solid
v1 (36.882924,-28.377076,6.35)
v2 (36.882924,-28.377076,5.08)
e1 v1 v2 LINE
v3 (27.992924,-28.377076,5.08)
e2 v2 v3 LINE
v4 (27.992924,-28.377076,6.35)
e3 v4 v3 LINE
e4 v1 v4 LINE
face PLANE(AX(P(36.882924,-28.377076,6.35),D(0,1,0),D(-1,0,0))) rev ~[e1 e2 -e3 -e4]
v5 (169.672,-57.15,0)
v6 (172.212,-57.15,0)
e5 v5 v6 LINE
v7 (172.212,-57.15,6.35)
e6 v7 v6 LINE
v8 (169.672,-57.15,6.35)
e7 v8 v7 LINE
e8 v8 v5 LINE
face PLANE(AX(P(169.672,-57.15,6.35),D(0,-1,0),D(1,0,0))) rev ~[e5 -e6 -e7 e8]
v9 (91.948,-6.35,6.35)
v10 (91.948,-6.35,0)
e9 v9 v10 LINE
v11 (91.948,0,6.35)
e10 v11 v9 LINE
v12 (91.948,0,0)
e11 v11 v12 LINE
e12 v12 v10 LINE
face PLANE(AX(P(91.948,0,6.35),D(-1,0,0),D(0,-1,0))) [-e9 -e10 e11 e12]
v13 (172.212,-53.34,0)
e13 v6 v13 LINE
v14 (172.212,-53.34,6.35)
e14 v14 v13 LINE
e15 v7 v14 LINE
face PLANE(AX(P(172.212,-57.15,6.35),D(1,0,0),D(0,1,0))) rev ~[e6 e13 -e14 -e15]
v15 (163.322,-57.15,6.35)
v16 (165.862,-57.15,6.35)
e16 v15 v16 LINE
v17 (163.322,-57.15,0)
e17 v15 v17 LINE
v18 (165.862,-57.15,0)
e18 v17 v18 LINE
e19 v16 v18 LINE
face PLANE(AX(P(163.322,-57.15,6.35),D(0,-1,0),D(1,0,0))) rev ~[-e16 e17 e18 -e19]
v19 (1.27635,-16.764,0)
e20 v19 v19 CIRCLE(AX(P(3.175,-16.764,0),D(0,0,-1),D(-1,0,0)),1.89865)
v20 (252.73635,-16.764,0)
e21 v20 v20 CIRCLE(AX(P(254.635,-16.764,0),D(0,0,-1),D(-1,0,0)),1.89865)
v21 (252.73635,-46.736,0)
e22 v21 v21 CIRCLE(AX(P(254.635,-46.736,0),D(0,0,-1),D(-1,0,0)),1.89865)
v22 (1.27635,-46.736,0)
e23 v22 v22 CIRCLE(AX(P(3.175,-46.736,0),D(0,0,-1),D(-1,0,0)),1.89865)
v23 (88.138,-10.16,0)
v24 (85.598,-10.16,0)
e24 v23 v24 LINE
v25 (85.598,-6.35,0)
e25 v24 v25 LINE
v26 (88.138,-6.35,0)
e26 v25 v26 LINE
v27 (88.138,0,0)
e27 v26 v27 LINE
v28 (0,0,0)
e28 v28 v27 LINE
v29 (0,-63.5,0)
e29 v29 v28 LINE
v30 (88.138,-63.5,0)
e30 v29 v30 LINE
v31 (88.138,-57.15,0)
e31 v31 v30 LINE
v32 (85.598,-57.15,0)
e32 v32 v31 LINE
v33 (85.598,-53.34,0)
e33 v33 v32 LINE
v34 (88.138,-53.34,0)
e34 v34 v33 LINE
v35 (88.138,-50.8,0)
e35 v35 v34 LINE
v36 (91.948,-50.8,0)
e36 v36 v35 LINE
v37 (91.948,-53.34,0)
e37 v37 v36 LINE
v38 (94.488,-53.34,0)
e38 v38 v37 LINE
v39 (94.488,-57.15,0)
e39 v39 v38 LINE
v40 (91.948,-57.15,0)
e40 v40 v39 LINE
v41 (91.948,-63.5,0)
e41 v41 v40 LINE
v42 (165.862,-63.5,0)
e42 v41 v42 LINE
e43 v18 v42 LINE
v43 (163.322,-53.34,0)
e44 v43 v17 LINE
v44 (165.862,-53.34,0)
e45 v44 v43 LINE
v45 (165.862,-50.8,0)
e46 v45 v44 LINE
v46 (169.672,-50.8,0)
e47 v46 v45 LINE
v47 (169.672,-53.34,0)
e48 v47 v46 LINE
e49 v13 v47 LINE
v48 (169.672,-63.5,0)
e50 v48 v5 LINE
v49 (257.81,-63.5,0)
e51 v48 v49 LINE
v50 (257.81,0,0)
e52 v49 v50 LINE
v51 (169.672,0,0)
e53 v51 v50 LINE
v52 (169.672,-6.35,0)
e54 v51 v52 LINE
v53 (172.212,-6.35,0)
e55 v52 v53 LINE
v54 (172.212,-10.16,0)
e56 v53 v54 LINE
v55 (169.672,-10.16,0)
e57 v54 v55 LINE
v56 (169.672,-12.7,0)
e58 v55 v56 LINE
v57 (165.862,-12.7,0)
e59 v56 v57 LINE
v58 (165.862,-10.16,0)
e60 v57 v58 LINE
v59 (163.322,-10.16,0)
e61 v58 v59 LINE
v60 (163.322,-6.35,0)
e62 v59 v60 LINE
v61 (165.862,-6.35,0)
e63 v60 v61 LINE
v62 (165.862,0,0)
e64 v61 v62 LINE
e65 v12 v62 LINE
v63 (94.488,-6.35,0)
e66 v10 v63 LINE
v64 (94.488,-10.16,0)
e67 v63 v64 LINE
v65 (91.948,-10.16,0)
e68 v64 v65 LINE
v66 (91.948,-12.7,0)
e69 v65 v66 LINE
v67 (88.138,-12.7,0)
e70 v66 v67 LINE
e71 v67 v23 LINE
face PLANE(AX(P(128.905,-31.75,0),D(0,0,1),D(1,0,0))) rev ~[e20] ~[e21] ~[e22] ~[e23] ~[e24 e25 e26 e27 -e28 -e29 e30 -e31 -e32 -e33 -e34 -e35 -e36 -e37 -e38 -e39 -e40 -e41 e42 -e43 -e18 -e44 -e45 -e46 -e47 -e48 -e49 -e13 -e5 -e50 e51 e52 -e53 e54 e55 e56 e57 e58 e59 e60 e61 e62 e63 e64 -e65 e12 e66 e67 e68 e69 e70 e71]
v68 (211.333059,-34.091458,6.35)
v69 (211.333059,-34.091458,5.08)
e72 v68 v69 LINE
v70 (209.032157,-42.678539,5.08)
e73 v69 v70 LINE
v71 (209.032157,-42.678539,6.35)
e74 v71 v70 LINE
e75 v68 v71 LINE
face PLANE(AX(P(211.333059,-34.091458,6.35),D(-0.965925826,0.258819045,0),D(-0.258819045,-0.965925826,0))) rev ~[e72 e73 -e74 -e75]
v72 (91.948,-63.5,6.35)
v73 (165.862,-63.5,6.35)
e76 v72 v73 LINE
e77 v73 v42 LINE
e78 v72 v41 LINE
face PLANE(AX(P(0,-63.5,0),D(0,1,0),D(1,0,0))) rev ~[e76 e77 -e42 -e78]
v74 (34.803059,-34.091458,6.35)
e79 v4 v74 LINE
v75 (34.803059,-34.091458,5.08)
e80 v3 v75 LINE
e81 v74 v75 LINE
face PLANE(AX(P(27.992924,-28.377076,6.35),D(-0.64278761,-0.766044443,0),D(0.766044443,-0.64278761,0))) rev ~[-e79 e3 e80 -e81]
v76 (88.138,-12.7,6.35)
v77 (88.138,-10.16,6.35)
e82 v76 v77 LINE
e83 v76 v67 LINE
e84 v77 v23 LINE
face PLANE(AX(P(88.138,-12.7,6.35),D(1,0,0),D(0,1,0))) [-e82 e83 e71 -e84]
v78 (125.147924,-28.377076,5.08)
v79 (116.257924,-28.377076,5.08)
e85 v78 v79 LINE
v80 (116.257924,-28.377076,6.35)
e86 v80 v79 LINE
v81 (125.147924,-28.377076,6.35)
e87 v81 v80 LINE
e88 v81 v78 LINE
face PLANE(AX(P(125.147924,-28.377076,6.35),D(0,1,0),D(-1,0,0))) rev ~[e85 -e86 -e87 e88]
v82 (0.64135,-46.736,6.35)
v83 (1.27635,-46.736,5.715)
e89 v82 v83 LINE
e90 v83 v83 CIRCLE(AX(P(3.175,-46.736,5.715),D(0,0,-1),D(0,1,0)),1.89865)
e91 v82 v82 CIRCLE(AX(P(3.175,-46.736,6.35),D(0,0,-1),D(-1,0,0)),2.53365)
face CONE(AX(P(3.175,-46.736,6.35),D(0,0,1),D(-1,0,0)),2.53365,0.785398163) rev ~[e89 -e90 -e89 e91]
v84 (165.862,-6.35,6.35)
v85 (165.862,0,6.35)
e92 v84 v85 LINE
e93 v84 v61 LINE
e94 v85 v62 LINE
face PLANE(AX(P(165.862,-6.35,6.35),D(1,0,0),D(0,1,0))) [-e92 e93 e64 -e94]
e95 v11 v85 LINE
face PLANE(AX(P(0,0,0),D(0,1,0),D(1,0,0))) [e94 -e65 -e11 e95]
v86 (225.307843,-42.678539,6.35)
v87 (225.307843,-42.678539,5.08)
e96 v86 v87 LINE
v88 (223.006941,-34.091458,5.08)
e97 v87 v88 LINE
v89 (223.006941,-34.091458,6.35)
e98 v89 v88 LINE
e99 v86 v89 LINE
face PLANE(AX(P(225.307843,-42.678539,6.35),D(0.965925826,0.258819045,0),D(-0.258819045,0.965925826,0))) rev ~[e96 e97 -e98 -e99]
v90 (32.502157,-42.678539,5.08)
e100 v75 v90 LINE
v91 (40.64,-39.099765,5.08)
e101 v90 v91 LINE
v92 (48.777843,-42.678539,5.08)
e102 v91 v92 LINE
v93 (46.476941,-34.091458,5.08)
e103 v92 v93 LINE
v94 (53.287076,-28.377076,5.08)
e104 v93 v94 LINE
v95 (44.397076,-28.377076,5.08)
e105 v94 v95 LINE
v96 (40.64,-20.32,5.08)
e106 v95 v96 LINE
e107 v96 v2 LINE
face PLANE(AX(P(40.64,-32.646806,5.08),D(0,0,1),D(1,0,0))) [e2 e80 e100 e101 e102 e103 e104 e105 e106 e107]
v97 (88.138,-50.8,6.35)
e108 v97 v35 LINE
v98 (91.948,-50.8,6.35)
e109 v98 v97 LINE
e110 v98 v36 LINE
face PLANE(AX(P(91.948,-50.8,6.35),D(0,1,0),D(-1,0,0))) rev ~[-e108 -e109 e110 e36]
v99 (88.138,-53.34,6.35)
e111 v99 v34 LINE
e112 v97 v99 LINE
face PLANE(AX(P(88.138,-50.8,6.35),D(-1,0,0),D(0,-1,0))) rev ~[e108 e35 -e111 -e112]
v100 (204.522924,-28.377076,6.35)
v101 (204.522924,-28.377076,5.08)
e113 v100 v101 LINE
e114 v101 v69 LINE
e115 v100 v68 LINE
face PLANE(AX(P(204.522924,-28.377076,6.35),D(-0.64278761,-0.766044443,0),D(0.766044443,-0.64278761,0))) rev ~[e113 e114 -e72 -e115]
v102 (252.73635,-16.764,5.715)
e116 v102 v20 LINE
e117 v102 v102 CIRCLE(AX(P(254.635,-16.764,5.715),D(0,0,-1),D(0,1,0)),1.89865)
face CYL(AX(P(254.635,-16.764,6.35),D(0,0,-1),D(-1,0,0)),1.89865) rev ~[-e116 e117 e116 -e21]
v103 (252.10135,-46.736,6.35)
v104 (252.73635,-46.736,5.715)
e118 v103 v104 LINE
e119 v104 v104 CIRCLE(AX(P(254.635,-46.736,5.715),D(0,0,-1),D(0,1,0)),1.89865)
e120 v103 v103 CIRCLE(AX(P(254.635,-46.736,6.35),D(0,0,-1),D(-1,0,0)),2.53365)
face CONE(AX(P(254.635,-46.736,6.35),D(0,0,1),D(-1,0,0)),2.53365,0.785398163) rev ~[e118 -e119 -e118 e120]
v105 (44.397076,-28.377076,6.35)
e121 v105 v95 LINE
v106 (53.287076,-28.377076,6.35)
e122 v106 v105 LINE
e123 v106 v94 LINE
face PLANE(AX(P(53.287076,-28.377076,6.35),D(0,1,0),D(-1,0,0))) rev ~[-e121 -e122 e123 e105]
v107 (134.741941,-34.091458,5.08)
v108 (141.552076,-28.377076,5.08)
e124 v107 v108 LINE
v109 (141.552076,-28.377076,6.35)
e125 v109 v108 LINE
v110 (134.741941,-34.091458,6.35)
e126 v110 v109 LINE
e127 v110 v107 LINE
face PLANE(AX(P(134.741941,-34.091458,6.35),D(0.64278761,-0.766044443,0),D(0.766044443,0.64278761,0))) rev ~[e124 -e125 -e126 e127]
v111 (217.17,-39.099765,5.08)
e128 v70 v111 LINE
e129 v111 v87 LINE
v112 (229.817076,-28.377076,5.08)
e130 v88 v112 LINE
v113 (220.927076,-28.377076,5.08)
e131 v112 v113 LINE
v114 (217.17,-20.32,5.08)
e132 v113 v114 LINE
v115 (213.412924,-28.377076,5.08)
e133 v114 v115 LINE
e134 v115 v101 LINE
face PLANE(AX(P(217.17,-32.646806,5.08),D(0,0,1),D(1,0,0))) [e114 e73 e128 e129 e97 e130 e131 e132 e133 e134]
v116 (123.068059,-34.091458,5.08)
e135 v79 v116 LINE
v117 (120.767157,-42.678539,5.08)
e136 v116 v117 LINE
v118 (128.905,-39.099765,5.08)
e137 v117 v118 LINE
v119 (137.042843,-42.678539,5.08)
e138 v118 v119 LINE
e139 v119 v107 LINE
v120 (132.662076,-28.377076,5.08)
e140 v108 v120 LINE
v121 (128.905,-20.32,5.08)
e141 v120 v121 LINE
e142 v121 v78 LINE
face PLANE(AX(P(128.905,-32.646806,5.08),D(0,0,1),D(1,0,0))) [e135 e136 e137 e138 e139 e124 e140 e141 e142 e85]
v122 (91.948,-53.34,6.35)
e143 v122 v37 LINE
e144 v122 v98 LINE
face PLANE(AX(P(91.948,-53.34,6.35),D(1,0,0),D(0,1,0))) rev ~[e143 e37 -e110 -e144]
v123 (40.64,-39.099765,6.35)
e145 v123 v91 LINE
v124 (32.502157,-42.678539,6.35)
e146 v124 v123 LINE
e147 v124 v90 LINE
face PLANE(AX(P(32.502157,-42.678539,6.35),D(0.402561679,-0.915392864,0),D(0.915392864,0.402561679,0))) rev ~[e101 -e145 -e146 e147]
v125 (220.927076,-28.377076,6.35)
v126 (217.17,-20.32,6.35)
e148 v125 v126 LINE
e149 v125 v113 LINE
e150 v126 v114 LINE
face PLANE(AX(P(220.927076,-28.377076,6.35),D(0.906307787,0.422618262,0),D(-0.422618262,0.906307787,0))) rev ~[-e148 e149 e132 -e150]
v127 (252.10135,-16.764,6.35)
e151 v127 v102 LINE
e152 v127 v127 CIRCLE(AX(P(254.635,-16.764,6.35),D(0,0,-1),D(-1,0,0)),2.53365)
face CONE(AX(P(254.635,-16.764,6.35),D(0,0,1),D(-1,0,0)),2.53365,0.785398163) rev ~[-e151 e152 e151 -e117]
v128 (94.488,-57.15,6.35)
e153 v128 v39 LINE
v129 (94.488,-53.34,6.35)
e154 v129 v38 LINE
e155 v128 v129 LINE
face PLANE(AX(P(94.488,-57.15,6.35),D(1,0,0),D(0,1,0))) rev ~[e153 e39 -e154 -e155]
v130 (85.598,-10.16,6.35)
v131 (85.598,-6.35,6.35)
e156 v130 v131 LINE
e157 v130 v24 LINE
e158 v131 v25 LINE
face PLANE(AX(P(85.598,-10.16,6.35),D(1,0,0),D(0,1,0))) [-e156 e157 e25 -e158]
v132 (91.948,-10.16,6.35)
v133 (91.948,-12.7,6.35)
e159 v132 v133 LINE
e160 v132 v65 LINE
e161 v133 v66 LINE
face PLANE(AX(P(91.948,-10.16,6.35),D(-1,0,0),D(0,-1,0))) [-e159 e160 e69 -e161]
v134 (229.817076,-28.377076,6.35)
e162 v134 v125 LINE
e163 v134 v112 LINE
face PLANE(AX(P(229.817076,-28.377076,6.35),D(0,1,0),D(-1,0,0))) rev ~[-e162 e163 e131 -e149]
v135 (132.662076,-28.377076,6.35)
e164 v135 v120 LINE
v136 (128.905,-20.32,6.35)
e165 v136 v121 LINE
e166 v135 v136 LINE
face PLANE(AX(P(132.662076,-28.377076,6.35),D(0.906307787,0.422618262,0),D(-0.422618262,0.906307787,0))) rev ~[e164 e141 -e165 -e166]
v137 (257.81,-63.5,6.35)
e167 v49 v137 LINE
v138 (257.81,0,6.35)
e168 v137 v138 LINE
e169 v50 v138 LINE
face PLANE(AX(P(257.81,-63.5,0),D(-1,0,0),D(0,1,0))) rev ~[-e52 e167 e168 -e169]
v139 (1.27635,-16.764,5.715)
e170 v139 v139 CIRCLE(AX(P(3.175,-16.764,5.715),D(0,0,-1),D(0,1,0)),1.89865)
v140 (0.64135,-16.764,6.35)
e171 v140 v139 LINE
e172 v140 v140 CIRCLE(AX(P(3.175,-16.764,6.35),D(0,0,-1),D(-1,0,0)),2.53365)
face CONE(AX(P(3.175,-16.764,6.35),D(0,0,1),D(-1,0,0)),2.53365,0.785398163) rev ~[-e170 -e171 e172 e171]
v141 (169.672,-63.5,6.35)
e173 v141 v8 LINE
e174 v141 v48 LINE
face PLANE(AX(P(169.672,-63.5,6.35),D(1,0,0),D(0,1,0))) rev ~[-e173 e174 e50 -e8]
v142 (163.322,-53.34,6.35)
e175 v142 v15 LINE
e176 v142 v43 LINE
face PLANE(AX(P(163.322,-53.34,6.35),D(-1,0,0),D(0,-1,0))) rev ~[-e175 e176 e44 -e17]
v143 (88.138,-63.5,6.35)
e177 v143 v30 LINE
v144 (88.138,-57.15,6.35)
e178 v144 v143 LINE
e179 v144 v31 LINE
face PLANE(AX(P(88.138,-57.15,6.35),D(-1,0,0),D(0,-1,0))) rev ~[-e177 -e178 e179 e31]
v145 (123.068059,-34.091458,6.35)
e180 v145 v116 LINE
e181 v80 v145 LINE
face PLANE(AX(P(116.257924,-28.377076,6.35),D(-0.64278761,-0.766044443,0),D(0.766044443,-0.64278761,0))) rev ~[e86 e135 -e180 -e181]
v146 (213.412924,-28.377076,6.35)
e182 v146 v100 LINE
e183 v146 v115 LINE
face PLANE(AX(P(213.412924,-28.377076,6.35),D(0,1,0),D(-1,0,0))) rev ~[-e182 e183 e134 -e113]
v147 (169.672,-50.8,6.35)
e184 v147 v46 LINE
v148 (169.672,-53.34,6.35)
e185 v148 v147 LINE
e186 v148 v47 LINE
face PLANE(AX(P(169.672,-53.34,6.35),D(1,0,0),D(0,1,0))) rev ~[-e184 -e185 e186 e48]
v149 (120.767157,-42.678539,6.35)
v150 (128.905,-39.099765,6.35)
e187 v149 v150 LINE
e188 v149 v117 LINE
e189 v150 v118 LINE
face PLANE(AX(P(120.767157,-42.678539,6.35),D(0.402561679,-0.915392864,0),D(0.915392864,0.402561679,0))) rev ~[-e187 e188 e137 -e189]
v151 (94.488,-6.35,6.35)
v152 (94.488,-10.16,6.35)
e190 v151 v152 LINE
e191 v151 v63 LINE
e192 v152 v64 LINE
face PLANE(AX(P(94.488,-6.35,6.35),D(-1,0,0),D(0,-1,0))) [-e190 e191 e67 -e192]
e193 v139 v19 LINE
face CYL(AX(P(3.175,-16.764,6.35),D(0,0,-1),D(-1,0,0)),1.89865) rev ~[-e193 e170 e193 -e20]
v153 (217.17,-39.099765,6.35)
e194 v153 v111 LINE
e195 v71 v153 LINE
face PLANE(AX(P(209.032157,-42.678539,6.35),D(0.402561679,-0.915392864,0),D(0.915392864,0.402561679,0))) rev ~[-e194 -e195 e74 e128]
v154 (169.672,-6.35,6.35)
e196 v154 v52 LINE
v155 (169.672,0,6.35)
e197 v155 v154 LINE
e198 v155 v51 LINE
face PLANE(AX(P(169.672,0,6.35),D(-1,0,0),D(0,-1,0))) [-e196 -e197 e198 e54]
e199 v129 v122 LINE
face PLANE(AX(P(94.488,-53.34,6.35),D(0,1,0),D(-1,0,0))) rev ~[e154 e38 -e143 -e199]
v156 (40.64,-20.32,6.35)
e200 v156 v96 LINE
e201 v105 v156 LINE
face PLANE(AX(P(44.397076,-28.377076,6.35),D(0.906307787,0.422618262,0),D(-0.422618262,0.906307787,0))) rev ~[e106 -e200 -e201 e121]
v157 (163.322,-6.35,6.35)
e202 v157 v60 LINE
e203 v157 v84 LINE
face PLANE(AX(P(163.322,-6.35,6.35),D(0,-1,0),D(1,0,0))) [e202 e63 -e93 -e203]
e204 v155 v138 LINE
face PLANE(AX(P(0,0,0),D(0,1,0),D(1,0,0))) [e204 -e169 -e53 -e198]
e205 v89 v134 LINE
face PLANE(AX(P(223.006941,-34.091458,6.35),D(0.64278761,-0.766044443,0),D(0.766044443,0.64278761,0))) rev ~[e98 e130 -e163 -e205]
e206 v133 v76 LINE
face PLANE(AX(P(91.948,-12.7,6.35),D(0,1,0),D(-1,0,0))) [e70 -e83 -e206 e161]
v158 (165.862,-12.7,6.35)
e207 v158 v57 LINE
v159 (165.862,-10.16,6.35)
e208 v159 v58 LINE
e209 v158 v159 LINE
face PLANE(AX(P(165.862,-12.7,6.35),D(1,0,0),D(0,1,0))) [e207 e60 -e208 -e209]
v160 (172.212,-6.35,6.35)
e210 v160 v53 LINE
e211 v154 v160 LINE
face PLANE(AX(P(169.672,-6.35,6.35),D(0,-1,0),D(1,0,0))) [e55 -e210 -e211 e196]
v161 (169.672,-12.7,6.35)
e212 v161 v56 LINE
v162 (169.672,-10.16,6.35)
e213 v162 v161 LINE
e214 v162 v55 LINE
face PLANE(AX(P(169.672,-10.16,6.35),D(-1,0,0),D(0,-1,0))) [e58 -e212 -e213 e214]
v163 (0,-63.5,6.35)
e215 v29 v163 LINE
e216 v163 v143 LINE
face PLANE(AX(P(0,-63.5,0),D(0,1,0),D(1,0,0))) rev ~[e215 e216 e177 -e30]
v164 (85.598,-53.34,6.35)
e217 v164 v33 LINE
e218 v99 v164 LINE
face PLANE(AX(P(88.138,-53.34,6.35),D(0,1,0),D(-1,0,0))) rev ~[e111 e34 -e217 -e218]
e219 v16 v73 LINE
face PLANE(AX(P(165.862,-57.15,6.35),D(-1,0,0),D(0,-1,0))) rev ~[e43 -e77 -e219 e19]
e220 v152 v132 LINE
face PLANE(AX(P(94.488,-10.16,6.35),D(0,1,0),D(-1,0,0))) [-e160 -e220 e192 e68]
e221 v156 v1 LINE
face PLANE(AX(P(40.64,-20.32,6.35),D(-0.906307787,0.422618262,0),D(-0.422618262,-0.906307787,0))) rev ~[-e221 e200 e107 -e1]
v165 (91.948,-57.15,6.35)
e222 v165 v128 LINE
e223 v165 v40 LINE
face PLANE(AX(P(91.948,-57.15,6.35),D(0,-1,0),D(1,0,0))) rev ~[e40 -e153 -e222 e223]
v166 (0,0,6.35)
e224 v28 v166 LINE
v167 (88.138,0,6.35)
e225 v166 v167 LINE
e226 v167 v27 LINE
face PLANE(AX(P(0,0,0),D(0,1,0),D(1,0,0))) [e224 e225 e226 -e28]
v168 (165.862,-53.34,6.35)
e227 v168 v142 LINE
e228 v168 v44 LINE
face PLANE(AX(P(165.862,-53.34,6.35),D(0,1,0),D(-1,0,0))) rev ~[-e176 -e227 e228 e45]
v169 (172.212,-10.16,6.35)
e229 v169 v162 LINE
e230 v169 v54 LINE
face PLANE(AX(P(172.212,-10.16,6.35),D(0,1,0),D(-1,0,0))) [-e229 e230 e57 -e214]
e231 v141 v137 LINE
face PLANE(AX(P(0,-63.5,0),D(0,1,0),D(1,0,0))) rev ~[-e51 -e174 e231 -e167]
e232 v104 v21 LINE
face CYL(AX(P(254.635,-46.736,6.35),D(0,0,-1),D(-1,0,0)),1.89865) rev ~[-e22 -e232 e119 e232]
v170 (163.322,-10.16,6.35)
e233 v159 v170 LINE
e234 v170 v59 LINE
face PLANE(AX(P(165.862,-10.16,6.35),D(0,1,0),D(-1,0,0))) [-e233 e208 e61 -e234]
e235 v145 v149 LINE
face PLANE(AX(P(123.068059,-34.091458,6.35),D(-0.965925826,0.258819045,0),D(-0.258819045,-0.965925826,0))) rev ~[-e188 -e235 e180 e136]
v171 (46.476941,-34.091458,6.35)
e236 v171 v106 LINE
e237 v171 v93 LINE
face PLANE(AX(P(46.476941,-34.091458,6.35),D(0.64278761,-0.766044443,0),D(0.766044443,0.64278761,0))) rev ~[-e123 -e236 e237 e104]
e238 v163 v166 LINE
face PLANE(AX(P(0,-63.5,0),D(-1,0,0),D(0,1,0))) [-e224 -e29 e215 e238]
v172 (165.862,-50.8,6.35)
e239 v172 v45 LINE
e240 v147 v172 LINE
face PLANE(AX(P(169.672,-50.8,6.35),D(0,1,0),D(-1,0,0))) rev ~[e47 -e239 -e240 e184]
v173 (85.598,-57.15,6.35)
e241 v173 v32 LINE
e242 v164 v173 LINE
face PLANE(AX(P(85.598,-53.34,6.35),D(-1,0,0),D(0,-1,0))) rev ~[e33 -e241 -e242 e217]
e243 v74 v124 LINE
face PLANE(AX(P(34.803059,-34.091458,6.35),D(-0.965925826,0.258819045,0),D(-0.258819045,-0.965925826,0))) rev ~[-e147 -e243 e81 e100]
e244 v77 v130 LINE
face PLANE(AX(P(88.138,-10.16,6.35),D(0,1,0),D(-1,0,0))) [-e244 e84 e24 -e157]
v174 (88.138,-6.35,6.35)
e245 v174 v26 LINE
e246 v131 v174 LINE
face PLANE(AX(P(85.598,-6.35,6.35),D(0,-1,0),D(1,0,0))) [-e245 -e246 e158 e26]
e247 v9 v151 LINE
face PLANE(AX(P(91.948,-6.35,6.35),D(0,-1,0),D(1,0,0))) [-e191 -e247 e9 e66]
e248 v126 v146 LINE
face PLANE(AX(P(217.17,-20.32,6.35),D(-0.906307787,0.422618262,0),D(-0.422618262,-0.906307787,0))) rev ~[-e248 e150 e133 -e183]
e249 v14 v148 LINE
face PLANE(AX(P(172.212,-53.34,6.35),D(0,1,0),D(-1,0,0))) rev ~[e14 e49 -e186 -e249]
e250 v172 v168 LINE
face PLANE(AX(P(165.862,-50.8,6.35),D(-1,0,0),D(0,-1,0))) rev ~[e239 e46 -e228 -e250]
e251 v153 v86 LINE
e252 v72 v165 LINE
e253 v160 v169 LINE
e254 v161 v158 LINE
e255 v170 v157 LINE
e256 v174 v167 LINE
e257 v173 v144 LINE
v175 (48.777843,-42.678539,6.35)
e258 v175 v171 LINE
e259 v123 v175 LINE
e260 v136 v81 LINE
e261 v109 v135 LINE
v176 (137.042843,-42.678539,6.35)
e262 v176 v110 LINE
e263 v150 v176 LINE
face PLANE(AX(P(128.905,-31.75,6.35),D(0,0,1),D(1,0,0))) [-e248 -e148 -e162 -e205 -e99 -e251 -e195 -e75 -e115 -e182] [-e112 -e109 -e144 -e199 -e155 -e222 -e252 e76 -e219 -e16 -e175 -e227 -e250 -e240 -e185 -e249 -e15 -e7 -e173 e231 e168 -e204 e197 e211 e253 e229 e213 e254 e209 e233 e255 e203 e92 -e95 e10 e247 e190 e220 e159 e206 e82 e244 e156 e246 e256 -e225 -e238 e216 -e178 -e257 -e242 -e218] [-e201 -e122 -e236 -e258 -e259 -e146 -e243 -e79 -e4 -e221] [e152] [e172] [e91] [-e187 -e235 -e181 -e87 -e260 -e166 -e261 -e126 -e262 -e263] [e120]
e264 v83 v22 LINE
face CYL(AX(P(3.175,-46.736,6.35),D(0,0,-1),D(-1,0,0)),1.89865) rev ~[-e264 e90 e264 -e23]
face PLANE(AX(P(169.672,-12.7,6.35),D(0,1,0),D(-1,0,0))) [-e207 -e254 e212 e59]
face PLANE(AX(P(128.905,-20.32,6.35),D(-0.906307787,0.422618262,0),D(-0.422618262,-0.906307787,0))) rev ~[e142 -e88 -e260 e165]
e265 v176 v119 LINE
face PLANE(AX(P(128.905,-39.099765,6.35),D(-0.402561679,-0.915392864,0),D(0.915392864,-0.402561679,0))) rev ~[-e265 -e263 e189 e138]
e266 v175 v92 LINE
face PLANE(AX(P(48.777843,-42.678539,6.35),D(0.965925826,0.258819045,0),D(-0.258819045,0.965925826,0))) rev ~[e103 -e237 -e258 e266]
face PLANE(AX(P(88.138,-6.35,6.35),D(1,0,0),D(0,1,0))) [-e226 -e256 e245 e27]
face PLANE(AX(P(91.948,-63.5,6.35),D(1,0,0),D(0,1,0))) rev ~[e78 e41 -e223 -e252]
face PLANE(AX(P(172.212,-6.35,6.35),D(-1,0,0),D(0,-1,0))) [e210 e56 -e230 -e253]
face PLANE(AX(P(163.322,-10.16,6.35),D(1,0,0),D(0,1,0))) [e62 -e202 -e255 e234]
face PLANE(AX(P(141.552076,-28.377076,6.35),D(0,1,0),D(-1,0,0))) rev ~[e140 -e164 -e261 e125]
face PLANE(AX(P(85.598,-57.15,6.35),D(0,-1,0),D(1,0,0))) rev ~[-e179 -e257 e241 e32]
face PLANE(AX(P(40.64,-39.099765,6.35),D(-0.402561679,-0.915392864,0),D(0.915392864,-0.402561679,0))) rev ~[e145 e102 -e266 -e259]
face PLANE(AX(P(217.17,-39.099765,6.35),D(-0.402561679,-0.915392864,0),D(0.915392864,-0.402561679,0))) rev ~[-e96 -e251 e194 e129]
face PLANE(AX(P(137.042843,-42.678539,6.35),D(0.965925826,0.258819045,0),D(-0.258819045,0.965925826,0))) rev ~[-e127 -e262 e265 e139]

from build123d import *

# Parameters (mm, degrees)
SKETCH1_W                       = 257.81
SKETCH1_H                       = 63.5
BOSS_EXTRUDE1_DEPTH             = 6.35
CUT_EXTRUDE2_DEPTH              = 1.27
CUT_EXTRUDE3_DEPTH              = 266.590979892
F_6_CLEARANCE_HOLE1_D           = 3.7973
F_6_CLEARANCE_HOLE1_CSINK_D     = 5.0673
F_6_CLEARANCE_HOLE1_CSINK_ANGLE = 90


with BuildPart() as part:
    # Sketch1 → Boss-Extrude1 (new body)
    with BuildSketch(Plane.XY):
        with Locations((128.905, -31.75)):
            Rectangle(SKETCH1_W, SKETCH1_H)
    extrude(amount=BOSS_EXTRUDE1_DEPTH)

    # Sketch4 → Cut-Extrude2 (cut)
    with BuildSketch(Plane.XY.offset(6.35)):
        Polygon((128.905, -20.32), (125.147923653, -28.377076227), (116.257923653, -28.377076227), (123.068058752, -34.091458077), (120.767157441, -42.678538673), (128.905, -39.09976535), (137.042842559, -42.678538673), (134.741941248, -34.091458077), (141.552076347, -28.377076227), (132.662076347, -28.377076227), align=None)
        Polygon((217.17, -20.32), (213.412923653, -28.377076227), (204.522923653, -28.377076227), (211.333058752, -34.091458077), (209.032157441, -42.678538673), (217.17, -39.09976535), (225.307842559, -42.678538673), (223.006941248, -34.091458077), (229.817076347, -28.377076227), (220.927076347, -28.377076227), align=None)
        Polygon((40.64, -20.32), (36.882923653, -28.377076227), (27.992923653, -28.377076227), (34.803058752, -34.091458077), (32.502157441, -42.678538673), (40.64, -39.09976535), (48.777842559, -42.678538673), (46.476941248, -34.091458077), (53.287076347, -28.377076227), (44.397076347, -28.377076227), align=None)
    extrude(amount=-CUT_EXTRUDE2_DEPTH, mode=Mode.SUBTRACT)

    # Sketch6 → Cut-Extrude3 (cut, through all)
    with BuildSketch(Plane.XY.offset(6.35)):
        Polygon((88.138, 0), (91.948, 0), (91.948, -6.35), (94.488, -6.35), (94.488, -10.16), (91.948, -10.16), (91.948, -12.7), (88.138, -12.7), (88.138, -10.16), (85.598, -10.16), (85.598, -6.35), (88.138, -6.35), align=None)
        Polygon((165.862, 0), (169.672, 0), (169.672, -6.35), (172.212, -6.35), (172.212, -10.16), (169.672, -10.16), (169.672, -12.7), (165.862, -12.7), (165.862, -10.16), (163.322, -10.16), (163.322, -6.35), (165.862, -6.35), align=None)
        Polygon((88.138, -63.5), (91.948, -63.5), (91.948, -57.15), (94.488, -57.15), (94.488, -53.34), (91.948, -53.34), (91.948, -50.8), (88.138, -50.8), (88.138, -53.34), (85.598, -53.34), (85.598, -57.15), (88.138, -57.15), align=None)
        Polygon((165.862, -63.5), (169.672, -63.5), (169.672, -57.15), (172.212, -57.15), (172.212, -53.34), (169.672, -53.34), (169.672, -50.8), (165.862, -50.8), (165.862, -53.34), (163.322, -53.34), (163.322, -57.15), (165.862, -57.15), align=None)
    extrude(amount=-CUT_EXTRUDE3_DEPTH, mode=Mode.SUBTRACT)

    # #6 Clearance Hole1 (through all)
    with Locations(Plane.XY.offset(6.35)):
        with Locations((3.175, -16.764), (3.175, -46.736), (254.635, -46.736), (254.635, -16.764)):
            CounterSinkHole(F_6_CLEARANCE_HOLE1_D / 2, F_6_CLEARANCE_HOLE1_CSINK_D / 2, counter_sink_angle=F_6_CLEARANCE_HOLE1_CSINK_ANGLE)


solid = part.part
